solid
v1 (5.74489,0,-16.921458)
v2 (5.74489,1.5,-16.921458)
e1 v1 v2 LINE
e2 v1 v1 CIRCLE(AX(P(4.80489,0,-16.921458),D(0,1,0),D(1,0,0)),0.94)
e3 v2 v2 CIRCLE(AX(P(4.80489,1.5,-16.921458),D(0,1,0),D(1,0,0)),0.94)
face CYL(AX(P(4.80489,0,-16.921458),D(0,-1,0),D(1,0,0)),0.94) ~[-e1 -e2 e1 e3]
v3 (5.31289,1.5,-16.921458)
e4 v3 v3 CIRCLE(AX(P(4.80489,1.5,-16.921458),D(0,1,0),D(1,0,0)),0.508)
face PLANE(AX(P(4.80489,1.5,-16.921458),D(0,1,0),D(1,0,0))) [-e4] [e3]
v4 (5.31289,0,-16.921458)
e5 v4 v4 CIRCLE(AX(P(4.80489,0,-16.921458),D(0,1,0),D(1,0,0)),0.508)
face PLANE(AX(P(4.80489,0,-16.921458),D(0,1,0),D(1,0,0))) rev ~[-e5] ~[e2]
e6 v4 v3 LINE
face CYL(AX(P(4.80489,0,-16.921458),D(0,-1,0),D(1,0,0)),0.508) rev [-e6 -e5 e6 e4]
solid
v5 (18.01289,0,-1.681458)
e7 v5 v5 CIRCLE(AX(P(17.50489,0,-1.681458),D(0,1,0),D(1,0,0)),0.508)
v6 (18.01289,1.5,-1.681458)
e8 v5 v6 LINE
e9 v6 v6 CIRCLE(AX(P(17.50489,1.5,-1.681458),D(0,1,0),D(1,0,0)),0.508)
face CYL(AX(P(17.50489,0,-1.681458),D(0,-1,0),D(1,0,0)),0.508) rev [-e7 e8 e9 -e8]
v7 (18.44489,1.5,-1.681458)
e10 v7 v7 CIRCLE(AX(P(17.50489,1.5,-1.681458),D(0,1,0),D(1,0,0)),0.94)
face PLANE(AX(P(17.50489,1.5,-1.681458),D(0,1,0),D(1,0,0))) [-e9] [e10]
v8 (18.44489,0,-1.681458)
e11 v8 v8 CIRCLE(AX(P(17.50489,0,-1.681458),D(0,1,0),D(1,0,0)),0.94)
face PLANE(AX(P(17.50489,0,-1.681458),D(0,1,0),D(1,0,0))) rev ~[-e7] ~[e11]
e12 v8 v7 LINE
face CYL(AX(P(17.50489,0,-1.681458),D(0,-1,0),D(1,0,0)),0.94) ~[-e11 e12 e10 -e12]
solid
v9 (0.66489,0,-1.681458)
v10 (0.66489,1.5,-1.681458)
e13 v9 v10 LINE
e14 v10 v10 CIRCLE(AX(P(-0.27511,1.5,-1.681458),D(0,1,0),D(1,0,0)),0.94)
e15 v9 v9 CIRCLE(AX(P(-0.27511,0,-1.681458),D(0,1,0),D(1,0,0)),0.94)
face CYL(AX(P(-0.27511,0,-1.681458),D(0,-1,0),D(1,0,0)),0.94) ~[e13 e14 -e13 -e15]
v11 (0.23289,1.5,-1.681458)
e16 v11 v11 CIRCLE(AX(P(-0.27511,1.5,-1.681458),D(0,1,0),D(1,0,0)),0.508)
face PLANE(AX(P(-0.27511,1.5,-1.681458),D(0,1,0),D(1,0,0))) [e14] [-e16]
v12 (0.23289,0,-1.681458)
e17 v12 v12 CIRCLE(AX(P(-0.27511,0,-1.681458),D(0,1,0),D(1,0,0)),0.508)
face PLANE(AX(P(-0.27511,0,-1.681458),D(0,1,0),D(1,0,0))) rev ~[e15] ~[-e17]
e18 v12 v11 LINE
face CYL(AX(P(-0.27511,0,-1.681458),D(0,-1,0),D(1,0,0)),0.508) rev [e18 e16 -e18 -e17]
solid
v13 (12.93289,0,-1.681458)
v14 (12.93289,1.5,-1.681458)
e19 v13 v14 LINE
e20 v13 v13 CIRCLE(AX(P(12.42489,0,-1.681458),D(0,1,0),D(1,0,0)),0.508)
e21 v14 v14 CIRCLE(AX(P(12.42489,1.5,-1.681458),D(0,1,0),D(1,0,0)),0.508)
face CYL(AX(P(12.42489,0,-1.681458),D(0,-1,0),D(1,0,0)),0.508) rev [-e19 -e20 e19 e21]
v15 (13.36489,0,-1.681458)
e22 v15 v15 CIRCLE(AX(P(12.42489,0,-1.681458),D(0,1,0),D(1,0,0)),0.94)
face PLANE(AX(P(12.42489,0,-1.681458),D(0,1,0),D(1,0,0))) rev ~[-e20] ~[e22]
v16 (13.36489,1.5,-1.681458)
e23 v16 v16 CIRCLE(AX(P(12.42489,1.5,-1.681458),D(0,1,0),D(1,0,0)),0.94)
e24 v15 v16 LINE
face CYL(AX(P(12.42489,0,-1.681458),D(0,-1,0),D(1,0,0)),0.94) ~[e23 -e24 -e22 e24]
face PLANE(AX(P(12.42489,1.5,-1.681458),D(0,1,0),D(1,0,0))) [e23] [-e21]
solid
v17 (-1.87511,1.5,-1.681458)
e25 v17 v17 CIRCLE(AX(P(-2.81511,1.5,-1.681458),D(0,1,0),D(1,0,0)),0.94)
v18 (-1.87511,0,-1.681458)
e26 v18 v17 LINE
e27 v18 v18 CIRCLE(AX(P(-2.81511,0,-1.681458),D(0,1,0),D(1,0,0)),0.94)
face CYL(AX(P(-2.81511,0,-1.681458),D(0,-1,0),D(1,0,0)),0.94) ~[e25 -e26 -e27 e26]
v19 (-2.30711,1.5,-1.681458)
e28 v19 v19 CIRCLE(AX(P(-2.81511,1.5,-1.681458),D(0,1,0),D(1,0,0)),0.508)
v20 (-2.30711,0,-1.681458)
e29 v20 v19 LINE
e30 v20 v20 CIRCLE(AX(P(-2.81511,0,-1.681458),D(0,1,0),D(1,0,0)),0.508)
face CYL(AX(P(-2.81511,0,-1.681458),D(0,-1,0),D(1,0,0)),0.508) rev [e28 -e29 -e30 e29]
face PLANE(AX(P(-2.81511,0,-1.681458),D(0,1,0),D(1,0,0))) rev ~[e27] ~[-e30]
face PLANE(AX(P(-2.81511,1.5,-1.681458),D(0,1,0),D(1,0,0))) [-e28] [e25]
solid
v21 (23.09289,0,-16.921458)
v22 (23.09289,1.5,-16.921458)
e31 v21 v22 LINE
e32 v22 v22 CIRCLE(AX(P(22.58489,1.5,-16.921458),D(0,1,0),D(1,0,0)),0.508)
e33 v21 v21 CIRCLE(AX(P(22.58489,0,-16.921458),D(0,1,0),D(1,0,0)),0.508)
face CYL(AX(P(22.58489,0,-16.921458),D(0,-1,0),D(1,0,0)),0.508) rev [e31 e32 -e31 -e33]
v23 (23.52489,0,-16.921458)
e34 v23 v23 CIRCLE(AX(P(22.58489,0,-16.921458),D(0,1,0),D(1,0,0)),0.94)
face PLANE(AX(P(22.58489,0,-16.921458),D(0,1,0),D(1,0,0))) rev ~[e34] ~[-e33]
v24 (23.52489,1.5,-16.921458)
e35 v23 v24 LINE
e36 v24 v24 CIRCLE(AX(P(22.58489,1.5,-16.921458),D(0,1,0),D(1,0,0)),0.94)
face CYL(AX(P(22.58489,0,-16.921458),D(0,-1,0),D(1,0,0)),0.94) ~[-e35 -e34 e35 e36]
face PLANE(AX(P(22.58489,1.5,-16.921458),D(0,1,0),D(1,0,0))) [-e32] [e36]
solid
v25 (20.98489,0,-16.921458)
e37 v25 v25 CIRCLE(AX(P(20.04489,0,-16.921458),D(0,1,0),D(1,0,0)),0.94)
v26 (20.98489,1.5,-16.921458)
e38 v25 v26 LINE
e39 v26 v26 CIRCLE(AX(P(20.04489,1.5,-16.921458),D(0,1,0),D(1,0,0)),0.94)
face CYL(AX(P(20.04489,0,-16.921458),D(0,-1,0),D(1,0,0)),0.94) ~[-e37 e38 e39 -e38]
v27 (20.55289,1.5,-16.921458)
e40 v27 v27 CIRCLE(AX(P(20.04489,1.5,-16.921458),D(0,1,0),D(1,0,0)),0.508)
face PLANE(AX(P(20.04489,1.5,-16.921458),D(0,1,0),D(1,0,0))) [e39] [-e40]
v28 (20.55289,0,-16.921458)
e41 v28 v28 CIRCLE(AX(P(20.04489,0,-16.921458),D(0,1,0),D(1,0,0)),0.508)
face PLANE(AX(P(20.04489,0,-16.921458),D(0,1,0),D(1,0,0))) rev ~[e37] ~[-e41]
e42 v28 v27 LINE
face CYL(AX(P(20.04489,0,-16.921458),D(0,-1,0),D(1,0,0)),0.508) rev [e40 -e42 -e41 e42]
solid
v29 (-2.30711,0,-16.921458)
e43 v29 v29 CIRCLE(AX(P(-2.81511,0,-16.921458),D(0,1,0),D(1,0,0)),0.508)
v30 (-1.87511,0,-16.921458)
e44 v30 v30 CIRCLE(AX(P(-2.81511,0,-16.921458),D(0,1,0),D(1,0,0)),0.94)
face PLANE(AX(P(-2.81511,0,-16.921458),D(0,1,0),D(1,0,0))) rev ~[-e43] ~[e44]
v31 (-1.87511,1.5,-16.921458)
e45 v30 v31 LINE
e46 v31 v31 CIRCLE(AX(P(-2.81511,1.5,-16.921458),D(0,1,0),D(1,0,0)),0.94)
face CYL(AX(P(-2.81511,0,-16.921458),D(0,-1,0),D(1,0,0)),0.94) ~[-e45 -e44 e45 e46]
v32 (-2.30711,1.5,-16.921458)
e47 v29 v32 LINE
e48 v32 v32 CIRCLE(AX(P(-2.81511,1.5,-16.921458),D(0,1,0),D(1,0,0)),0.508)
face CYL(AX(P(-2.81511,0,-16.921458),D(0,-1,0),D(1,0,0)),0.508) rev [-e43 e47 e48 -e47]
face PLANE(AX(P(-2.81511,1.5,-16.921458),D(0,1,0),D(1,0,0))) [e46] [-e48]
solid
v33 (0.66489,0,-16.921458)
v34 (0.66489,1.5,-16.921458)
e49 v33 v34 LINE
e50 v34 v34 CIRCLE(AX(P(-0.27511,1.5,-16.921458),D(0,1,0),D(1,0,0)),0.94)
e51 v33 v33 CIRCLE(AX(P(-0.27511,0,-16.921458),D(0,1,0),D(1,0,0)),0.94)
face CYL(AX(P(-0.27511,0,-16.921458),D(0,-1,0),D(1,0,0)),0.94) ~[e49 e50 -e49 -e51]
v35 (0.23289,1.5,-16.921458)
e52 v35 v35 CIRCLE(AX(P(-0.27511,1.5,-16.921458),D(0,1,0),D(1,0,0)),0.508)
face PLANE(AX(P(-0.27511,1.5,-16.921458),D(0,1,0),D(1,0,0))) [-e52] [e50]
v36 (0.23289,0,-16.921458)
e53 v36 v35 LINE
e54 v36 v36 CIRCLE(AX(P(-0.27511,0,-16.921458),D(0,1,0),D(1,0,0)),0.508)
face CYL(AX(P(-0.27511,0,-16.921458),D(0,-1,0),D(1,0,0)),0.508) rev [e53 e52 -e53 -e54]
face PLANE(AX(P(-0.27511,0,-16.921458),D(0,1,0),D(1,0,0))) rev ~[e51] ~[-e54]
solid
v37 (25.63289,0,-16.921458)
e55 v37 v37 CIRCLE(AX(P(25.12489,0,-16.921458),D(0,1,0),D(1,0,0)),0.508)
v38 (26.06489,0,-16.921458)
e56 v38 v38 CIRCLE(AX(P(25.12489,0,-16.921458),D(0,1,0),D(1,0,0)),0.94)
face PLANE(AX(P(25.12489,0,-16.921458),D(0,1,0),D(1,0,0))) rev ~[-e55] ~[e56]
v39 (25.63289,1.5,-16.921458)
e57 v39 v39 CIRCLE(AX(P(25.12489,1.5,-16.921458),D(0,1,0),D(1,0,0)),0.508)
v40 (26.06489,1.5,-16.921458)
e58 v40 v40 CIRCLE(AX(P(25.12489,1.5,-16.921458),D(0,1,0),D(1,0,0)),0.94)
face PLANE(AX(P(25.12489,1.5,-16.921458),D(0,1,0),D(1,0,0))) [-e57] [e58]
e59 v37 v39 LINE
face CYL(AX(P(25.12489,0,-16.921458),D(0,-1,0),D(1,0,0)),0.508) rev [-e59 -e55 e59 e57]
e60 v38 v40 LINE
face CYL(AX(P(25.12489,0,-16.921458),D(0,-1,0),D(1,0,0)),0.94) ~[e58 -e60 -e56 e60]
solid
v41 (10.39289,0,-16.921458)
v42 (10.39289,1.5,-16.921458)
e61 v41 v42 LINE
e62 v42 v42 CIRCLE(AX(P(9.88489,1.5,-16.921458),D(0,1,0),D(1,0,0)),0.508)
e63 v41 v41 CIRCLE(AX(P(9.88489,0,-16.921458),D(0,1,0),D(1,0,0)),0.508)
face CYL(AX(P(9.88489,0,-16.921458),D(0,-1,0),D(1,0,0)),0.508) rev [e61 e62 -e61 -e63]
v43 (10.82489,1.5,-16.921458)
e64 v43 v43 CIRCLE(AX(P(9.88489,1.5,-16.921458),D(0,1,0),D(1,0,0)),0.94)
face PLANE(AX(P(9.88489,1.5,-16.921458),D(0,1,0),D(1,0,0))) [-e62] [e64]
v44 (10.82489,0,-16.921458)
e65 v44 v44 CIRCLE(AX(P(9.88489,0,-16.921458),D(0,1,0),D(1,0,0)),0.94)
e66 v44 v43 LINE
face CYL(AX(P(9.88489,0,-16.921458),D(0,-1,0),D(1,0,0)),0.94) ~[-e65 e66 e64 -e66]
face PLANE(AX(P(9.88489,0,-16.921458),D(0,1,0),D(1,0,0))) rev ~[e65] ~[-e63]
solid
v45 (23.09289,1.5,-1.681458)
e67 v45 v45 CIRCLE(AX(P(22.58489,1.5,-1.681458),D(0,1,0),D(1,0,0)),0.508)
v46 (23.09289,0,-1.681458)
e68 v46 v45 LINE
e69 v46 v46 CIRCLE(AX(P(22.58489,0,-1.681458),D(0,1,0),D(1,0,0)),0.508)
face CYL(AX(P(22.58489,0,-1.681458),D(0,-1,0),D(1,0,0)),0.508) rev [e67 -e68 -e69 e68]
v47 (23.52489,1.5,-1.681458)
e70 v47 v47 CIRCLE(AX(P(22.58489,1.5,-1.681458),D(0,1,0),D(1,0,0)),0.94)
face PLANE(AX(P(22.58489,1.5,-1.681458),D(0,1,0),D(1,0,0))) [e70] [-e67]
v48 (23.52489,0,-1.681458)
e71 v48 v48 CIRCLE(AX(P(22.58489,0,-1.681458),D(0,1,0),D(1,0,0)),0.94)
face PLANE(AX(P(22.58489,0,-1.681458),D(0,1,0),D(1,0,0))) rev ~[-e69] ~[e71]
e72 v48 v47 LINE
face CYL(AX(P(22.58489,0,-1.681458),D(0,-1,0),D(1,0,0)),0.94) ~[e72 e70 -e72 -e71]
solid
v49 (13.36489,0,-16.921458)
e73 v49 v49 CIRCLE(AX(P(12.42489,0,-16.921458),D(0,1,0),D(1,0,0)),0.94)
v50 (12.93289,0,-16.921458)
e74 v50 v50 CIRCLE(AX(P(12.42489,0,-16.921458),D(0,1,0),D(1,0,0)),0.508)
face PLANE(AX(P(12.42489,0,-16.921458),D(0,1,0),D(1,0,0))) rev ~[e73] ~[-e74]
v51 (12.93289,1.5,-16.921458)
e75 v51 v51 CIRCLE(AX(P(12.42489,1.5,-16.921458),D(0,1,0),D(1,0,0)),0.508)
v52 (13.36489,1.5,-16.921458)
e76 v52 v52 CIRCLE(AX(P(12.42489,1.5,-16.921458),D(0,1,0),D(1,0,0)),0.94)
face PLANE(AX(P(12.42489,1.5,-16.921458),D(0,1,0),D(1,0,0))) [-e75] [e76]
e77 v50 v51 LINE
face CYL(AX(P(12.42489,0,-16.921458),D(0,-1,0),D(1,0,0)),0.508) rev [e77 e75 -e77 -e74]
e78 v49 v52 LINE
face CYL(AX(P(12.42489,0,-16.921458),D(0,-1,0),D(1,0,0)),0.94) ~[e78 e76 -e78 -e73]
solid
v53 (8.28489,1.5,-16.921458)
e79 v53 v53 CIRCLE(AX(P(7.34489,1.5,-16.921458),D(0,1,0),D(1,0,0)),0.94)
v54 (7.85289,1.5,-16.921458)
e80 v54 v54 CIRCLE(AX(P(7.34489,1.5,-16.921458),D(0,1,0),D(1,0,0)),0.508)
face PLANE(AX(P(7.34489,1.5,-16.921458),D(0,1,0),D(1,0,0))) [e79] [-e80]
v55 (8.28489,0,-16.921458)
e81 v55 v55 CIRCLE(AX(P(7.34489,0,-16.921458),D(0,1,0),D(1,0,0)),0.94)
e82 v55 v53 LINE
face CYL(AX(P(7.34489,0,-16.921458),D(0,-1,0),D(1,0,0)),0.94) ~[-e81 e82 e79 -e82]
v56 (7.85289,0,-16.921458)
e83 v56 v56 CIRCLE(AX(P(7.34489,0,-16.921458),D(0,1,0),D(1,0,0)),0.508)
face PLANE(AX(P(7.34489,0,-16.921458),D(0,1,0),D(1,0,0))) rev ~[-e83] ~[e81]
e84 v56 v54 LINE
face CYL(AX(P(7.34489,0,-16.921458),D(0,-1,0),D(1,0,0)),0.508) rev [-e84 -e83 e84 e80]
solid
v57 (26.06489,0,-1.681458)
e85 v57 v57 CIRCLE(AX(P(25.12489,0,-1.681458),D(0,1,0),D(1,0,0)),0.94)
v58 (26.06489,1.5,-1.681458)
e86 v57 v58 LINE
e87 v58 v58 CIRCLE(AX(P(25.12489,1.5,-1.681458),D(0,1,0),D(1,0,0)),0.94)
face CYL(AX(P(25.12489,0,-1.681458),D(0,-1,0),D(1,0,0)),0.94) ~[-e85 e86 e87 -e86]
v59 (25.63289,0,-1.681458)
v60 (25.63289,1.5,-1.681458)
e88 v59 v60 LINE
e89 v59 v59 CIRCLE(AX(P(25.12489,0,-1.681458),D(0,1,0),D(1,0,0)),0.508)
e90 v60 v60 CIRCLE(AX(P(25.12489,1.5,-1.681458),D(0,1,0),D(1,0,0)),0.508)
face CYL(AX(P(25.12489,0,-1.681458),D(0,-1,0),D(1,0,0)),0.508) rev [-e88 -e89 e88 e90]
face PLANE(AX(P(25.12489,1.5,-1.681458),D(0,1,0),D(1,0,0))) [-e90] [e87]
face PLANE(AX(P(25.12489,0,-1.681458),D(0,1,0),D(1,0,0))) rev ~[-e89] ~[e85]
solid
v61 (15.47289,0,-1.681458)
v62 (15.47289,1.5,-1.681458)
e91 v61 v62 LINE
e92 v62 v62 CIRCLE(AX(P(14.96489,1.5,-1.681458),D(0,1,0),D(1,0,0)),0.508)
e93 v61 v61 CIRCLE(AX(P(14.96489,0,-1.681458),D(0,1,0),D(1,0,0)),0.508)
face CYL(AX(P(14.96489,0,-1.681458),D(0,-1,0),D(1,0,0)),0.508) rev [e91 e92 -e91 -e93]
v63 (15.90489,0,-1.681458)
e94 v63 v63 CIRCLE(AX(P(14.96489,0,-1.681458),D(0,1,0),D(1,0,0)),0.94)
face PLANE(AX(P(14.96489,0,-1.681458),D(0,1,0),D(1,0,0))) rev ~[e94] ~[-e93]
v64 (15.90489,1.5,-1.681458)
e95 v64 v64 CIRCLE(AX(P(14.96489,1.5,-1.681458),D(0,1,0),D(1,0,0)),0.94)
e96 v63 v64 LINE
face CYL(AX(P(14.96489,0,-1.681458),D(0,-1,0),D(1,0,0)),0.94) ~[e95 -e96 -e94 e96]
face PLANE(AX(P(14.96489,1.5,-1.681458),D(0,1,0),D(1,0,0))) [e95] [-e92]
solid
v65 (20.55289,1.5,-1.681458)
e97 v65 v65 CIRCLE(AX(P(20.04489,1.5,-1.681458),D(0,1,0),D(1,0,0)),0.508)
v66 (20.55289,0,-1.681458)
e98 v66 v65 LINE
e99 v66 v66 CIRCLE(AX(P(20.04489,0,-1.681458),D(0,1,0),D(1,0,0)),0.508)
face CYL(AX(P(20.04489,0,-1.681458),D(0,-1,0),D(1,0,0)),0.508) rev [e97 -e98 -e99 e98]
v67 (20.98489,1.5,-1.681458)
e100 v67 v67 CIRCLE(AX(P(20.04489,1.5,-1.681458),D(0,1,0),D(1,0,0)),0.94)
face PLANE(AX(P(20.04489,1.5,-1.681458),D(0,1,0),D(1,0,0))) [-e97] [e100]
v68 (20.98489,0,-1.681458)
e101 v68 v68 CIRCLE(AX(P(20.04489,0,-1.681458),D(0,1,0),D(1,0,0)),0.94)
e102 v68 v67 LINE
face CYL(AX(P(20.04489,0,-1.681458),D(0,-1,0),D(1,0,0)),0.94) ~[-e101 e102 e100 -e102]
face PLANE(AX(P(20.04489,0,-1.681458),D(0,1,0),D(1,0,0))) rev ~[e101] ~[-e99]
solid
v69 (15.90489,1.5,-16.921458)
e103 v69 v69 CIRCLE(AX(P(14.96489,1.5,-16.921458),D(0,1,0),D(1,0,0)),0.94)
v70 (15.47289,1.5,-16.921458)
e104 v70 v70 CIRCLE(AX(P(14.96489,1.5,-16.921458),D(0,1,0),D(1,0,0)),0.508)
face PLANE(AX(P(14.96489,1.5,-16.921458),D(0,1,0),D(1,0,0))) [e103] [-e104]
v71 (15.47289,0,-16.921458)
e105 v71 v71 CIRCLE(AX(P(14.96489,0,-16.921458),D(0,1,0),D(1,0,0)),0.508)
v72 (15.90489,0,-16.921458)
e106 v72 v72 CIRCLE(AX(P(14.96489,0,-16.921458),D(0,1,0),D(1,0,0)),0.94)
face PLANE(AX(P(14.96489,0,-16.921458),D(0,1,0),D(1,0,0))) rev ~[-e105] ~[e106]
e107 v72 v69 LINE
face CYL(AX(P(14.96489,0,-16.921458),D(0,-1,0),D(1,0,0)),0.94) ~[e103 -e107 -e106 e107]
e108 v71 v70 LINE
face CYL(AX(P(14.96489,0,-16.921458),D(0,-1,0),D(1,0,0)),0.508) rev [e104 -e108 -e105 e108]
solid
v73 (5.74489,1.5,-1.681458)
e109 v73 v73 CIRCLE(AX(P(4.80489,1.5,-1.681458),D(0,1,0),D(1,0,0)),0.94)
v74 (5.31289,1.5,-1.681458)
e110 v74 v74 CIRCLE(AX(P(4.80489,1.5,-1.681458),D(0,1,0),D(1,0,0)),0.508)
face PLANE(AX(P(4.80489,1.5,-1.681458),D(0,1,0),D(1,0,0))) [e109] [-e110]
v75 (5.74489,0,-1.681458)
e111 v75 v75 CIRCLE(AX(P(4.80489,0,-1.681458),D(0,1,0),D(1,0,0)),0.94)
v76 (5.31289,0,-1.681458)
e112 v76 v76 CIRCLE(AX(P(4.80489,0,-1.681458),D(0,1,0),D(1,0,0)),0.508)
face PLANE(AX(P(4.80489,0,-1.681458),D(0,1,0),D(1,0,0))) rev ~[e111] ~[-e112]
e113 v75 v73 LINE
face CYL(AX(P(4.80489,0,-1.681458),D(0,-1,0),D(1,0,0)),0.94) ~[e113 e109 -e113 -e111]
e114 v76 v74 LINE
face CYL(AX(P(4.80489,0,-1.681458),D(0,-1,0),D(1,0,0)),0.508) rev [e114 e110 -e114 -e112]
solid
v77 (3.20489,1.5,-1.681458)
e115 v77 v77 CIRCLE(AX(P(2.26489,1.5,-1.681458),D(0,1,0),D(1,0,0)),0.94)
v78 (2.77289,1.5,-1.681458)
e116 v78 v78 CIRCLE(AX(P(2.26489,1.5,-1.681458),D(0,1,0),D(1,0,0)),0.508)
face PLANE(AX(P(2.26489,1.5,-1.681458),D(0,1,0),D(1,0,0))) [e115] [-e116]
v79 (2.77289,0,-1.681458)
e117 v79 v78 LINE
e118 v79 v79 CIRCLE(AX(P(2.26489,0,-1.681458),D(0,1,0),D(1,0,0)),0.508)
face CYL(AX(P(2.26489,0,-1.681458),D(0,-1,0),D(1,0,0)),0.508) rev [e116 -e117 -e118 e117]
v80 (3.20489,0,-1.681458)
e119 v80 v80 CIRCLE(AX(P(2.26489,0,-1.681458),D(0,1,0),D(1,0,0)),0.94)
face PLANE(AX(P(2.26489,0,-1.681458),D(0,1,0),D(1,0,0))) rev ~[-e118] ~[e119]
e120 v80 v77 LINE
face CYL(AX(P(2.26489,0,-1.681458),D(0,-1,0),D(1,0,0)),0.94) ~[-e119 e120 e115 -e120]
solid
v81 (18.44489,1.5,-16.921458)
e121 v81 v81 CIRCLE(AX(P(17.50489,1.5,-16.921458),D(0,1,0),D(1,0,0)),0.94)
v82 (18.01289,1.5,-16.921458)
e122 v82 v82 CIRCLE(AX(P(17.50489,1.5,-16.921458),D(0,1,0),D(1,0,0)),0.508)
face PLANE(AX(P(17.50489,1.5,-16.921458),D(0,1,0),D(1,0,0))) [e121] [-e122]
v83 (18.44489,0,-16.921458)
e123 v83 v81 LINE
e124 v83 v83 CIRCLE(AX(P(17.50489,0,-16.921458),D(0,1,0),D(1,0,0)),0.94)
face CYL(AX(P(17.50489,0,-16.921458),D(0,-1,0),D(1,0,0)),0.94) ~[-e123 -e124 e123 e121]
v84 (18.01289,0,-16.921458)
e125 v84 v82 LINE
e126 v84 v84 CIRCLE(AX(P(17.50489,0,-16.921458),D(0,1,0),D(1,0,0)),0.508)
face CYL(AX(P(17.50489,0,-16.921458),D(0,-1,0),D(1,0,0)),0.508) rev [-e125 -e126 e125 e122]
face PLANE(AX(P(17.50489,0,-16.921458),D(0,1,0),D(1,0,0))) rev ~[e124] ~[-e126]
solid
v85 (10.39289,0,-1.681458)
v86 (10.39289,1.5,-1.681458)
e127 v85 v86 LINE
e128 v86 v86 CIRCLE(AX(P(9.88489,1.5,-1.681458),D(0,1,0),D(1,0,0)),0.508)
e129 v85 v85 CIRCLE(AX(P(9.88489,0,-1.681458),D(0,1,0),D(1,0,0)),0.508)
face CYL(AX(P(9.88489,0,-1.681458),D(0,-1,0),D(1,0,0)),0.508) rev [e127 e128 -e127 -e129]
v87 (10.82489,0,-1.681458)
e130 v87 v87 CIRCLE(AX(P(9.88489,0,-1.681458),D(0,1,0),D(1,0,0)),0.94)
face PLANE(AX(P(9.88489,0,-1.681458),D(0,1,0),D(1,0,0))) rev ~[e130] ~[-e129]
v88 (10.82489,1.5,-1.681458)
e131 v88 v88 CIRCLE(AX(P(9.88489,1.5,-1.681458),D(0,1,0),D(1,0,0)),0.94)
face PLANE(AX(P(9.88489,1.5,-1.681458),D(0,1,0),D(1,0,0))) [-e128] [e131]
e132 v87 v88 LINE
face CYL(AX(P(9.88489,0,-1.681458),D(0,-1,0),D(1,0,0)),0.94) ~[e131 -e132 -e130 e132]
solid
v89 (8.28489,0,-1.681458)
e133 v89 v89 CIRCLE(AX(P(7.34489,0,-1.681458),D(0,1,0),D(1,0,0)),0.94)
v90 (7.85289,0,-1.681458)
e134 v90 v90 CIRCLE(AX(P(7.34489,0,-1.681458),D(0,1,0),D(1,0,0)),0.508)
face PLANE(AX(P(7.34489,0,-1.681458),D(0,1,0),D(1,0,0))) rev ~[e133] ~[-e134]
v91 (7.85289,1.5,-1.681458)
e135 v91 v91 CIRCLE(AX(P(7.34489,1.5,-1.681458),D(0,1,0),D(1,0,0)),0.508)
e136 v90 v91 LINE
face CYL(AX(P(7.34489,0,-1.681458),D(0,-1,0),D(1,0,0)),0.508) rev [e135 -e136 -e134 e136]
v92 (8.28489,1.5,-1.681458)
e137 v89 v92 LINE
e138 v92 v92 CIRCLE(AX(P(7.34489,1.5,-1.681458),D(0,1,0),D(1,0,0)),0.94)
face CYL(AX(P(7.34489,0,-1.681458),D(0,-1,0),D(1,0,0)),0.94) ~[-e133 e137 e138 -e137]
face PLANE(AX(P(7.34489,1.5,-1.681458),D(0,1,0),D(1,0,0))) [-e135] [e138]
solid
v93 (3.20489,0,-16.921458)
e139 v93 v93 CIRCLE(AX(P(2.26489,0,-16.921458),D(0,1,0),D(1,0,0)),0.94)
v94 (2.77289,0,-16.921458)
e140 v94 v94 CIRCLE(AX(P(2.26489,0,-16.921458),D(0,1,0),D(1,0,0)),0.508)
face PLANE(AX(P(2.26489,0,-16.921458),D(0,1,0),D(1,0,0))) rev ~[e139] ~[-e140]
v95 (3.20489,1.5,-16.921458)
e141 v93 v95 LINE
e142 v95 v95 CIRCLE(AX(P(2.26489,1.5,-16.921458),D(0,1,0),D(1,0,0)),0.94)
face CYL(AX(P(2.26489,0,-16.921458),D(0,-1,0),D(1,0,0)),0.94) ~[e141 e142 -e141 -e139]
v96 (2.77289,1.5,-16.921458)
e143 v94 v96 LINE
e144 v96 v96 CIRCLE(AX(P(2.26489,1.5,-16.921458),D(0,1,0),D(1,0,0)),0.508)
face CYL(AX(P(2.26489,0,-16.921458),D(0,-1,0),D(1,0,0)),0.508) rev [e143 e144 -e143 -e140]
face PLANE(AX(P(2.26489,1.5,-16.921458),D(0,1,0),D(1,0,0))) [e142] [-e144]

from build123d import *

# Parameters (mm, degrees)
SKETCH1_R              = 0.94
SKETCH1_R_2            = 0.508
BOSS_EXTRUDE1_DEPTH    = 1.5
BOSS_EXTRUDE1_2_DEPTH  = 1.5
BOSS_EXTRUDE1_3_DEPTH  = 1.5
BOSS_EXTRUDE1_4_DEPTH  = 1.5
BOSS_EXTRUDE1_5_DEPTH  = 1.5
BOSS_EXTRUDE1_6_DEPTH  = 1.5
BOSS_EXTRUDE1_7_DEPTH  = 1.5
BOSS_EXTRUDE1_8_DEPTH  = 1.5
BOSS_EXTRUDE1_9_DEPTH  = 1.5
BOSS_EXTRUDE1_10_DEPTH = 1.5
BOSS_EXTRUDE1_11_DEPTH = 1.5
BOSS_EXTRUDE1_12_DEPTH = 1.5
BOSS_EXTRUDE1_13_DEPTH = 1.5
BOSS_EXTRUDE1_14_DEPTH = 1.5
BOSS_EXTRUDE1_15_DEPTH = 1.5
BOSS_EXTRUDE1_16_DEPTH = 1.5
BOSS_EXTRUDE1_17_DEPTH = 1.5
BOSS_EXTRUDE1_18_DEPTH = 1.5
BOSS_EXTRUDE1_19_DEPTH = 1.5
BOSS_EXTRUDE1_20_DEPTH = 1.5
BOSS_EXTRUDE1_21_DEPTH = 1.5
BOSS_EXTRUDE1_22_DEPTH = 1.5
BOSS_EXTRUDE1_23_DEPTH = 1.5
BOSS_EXTRUDE1_24_DEPTH = 1.5


with BuildPart() as part:
    # Sketch1 → Boss-Extrude1 (new body)
    with BuildSketch(Plane(origin=(0, 0, 0), x_dir=(1, 0, 0), z_dir=(0, 1, 0))):
        with Locations((-2.815110191, 1.681457709)):
            Circle(SKETCH1_R)
        with Locations((-2.815110191, 1.681457709)):
            Circle(SKETCH1_R_2, mode=Mode.SUBTRACT)
    extrude(amount=BOSS_EXTRUDE1_DEPTH)


with BuildPart() as body_2:
    # Sketch1 → Boss-Extrude1 2 (new body)
    with BuildSketch(Plane(origin=(0, 0, 0), x_dir=(1, 0, 0), z_dir=(0, 1, 0))):
        with Locations((-0.275110191, 1.681457709)):
            Circle(SKETCH1_R)
        with Locations((-0.275110191, 1.681457709)):
            Circle(SKETCH1_R_2, mode=Mode.SUBTRACT)
    extrude(amount=BOSS_EXTRUDE1_2_DEPTH)


with BuildPart() as body_3:
    # Sketch1 → Boss-Extrude1 3 (new body)
    with BuildSketch(Plane(origin=(0, 0, 0), x_dir=(1, 0, 0), z_dir=(0, 1, 0))):
        with Locations((2.264889809, 1.681457709)):
            Circle(SKETCH1_R)
        with Locations((2.264889809, 1.681457709)):
            Circle(SKETCH1_R_2, mode=Mode.SUBTRACT)
    extrude(amount=BOSS_EXTRUDE1_3_DEPTH)


with BuildPart() as body_4:
    # Sketch1 → Boss-Extrude1 4 (new body)
    with BuildSketch(Plane(origin=(0, 0, 0), x_dir=(1, 0, 0), z_dir=(0, 1, 0))):
        with Locations((4.804889809, 1.681457709)):
            Circle(SKETCH1_R)
        with Locations((4.804889809, 1.681457709)):
            Circle(SKETCH1_R_2, mode=Mode.SUBTRACT)
    extrude(amount=BOSS_EXTRUDE1_4_DEPTH)


with BuildPart() as body_5:
    # Sketch1 → Boss-Extrude1 5 (new body)
    with BuildSketch(Plane(origin=(0, 0, 0), x_dir=(1, 0, 0), z_dir=(0, 1, 0))):
        with Locations((7.344889809, 1.681457709)):
            Circle(SKETCH1_R)
        with Locations((7.344889809, 1.681457709)):
            Circle(SKETCH1_R_2, mode=Mode.SUBTRACT)
    extrude(amount=BOSS_EXTRUDE1_5_DEPTH)


with BuildPart() as body_6:
    # Sketch1 → Boss-Extrude1 6 (new body)
    with BuildSketch(Plane(origin=(0, 0, 0), x_dir=(1, 0, 0), z_dir=(0, 1, 0))):
        with Locations((9.884889809, 1.681457709)):
            Circle(SKETCH1_R)
        with Locations((9.884889809, 1.681457709)):
            Circle(SKETCH1_R_2, mode=Mode.SUBTRACT)
    extrude(amount=BOSS_EXTRUDE1_6_DEPTH)


with BuildPart() as body_7:
    # Sketch1 → Boss-Extrude1 7 (new body)
    with BuildSketch(Plane(origin=(0, 0, 0), x_dir=(1, 0, 0), z_dir=(0, 1, 0))):
        with Locations((12.424889809, 1.681457709)):
            Circle(SKETCH1_R)
        with Locations((12.424889809, 1.681457709)):
            Circle(SKETCH1_R_2, mode=Mode.SUBTRACT)
    extrude(amount=BOSS_EXTRUDE1_7_DEPTH)


with BuildPart() as body_8:
    # Sketch1 → Boss-Extrude1 8 (new body)
    with BuildSketch(Plane(origin=(0, 0, 0), x_dir=(1, 0, 0), z_dir=(0, 1, 0))):
        with Locations((14.964889809, 1.681457709)):
            Circle(SKETCH1_R)
        with Locations((14.964889809, 1.681457709)):
            Circle(SKETCH1_R_2, mode=Mode.SUBTRACT)
    extrude(amount=BOSS_EXTRUDE1_8_DEPTH)


with BuildPart() as body_9:
    # Sketch1 → Boss-Extrude1 9 (new body)
    with BuildSketch(Plane(origin=(0, 0, 0), x_dir=(1, 0, 0), z_dir=(0, 1, 0))):
        with Locations((17.504889809, 1.681457709)):
            Circle(SKETCH1_R)
        with Locations((17.504889809, 1.681457709)):
            Circle(SKETCH1_R_2, mode=Mode.SUBTRACT)
    extrude(amount=BOSS_EXTRUDE1_9_DEPTH)


with BuildPart() as body_10:
    # Sketch1 → Boss-Extrude1 10 (new body)
    with BuildSketch(Plane(origin=(0, 0, 0), x_dir=(1, 0, 0), z_dir=(0, 1, 0))):
        with Locations((20.044889809, 1.681457709)):
            Circle(SKETCH1_R)
        with Locations((20.044889809, 1.681457709)):
            Circle(SKETCH1_R_2, mode=Mode.SUBTRACT)
    extrude(amount=BOSS_EXTRUDE1_10_DEPTH)


with BuildPart() as body_11:
    # Sketch1 → Boss-Extrude1 11 (new body)
    with BuildSketch(Plane(origin=(0, 0, 0), x_dir=(1, 0, 0), z_dir=(0, 1, 0))):
        with Locations((22.584889809, 1.681457709)):
            Circle(SKETCH1_R)
        with Locations((22.584889809, 1.681457709)):
            Circle(SKETCH1_R_2, mode=Mode.SUBTRACT)
    extrude(amount=BOSS_EXTRUDE1_11_DEPTH)


with BuildPart() as body_12:
    # Sketch1 → Boss-Extrude1 12 (new body)
    with BuildSketch(Plane(origin=(0, 0, 0), x_dir=(1, 0, 0), z_dir=(0, 1, 0))):
        with Locations((25.124889809, 1.681457709)):
            Circle(SKETCH1_R)
        with Locations((25.124889809, 1.681457709)):
            Circle(SKETCH1_R_2, mode=Mode.SUBTRACT)
    extrude(amount=BOSS_EXTRUDE1_12_DEPTH)


with BuildPart() as body_13:
    # Sketch1 → Boss-Extrude1 13 (new body)
    with BuildSketch(Plane(origin=(0, 0, 0), x_dir=(1, 0, 0), z_dir=(0, 1, 0))):
        with Locations((-0.275110191, 16.921457709)):
            Circle(SKETCH1_R)
        with Locations((-0.275110191, 16.921457709)):
            Circle(SKETCH1_R_2, mode=Mode.SUBTRACT)
    extrude(amount=BOSS_EXTRUDE1_13_DEPTH)


with BuildPart() as body_14:
    # Sketch1 → Boss-Extrude1 14 (new body)
    with BuildSketch(Plane(origin=(0, 0, 0), x_dir=(1, 0, 0), z_dir=(0, 1, 0))):
        with Locations((2.264889809, 16.921457709)):
            Circle(SKETCH1_R)
        with Locations((2.264889809, 16.921457709)):
            Circle(SKETCH1_R_2, mode=Mode.SUBTRACT)
    extrude(amount=BOSS_EXTRUDE1_14_DEPTH)


with BuildPart() as body_15:
    # Sketch1 → Boss-Extrude1 15 (new body)
    with BuildSketch(Plane(origin=(0, 0, 0), x_dir=(1, 0, 0), z_dir=(0, 1, 0))):
        with Locations((4.804889809, 16.921457709)):
            Circle(SKETCH1_R)
        with Locations((4.804889809, 16.921457709)):
            Circle(SKETCH1_R_2, mode=Mode.SUBTRACT)
    extrude(amount=BOSS_EXTRUDE1_15_DEPTH)


with BuildPart() as body_16:
    # Sketch1 → Boss-Extrude1 16 (new body)
    with BuildSketch(Plane(origin=(0, 0, 0), x_dir=(1, 0, 0), z_dir=(0, 1, 0))):
        with Locations((7.344889809, 16.921457709)):
            Circle(SKETCH1_R)
        with Locations((7.344889809, 16.921457709)):
            Circle(SKETCH1_R_2, mode=Mode.SUBTRACT)
    extrude(amount=BOSS_EXTRUDE1_16_DEPTH)


with BuildPart() as body_17:
    # Sketch1 → Boss-Extrude1 17 (new body)
    with BuildSketch(Plane(origin=(0, 0, 0), x_dir=(1, 0, 0), z_dir=(0, 1, 0))):
        with Locations((9.884889809, 16.921457709)):
            Circle(SKETCH1_R)
        with Locations((9.884889809, 16.921457709)):
            Circle(SKETCH1_R_2, mode=Mode.SUBTRACT)
    extrude(amount=BOSS_EXTRUDE1_17_DEPTH)


with BuildPart() as body_18:
    # Sketch1 → Boss-Extrude1 18 (new body)
    with BuildSketch(Plane(origin=(0, 0, 0), x_dir=(1, 0, 0), z_dir=(0, 1, 0))):
        with Locations((12.424889809, 16.921457709)):
            Circle(SKETCH1_R)
        with Locations((12.424889809, 16.921457709)):
            Circle(SKETCH1_R_2, mode=Mode.SUBTRACT)
    extrude(amount=BOSS_EXTRUDE1_18_DEPTH)


with BuildPart() as body_19:
    # Sketch1 → Boss-Extrude1 19 (new body)
    with BuildSketch(Plane(origin=(0, 0, 0), x_dir=(1, 0, 0), z_dir=(0, 1, 0))):
        with Locations((14.964889809, 16.921457709)):
            Circle(SKETCH1_R)
        with Locations((14.964889809, 16.921457709)):
            Circle(SKETCH1_R_2, mode=Mode.SUBTRACT)
    extrude(amount=BOSS_EXTRUDE1_19_DEPTH)


with BuildPart() as body_20:
    # Sketch1 → Boss-Extrude1 20 (new body)
    with BuildSketch(Plane(origin=(0, 0, 0), x_dir=(1, 0, 0), z_dir=(0, 1, 0))):
        with Locations((17.504889809, 16.921457709)):
            Circle(SKETCH1_R)
        with Locations((17.504889809, 16.921457709)):
            Circle(SKETCH1_R_2, mode=Mode.SUBTRACT)
    extrude(amount=BOSS_EXTRUDE1_20_DEPTH)


with BuildPart() as body_21:
    # Sketch1 → Boss-Extrude1 21 (new body)
    with BuildSketch(Plane(origin=(0, 0, 0), x_dir=(1, 0, 0), z_dir=(0, 1, 0))):
        with Locations((20.044889809, 16.921457709)):
            Circle(SKETCH1_R)
        with Locations((20.044889809, 16.921457709)):
            Circle(SKETCH1_R_2, mode=Mode.SUBTRACT)
    extrude(amount=BOSS_EXTRUDE1_21_DEPTH)


with BuildPart() as body_22:
    # Sketch1 → Boss-Extrude1 22 (new body)
    with BuildSketch(Plane(origin=(0, 0, 0), x_dir=(1, 0, 0), z_dir=(0, 1, 0))):
        with Locations((22.584889809, 16.921457709)):
            Circle(SKETCH1_R)
        with Locations((22.584889809, 16.921457709)):
            Circle(SKETCH1_R_2, mode=Mode.SUBTRACT)
    extrude(amount=BOSS_EXTRUDE1_22_DEPTH)


with BuildPart() as body_23:
    # Sketch1 → Boss-Extrude1 23 (new body)
    with BuildSketch(Plane(origin=(0, 0, 0), x_dir=(1, 0, 0), z_dir=(0, 1, 0))):
        with Locations((25.124889809, 16.921457709)):
            Circle(SKETCH1_R)
        with Locations((25.124889809, 16.921457709)):
            Circle(SKETCH1_R_2, mode=Mode.SUBTRACT)
    extrude(amount=BOSS_EXTRUDE1_23_DEPTH)


with BuildPart() as body_24:
    # Sketch1 → Boss-Extrude1 24 (new body)
    with BuildSketch(Plane(origin=(0, 0, 0), x_dir=(1, 0, 0), z_dir=(0, 1, 0))):
        with Locations((-2.815110191, 16.921457709)):
            Circle(SKETCH1_R)
        with Locations((-2.815110191, 16.921457709)):
            Circle(SKETCH1_R_2, mode=Mode.SUBTRACT)
    extrude(amount=BOSS_EXTRUDE1_24_DEPTH)


solid = Compound([part.part, body_2.part, body_3.part, body_4.part, body_5.part, body_6.part, body_7.part, body_8.part, body_9.part, body_10.part, body_11.part, body_12.part, body_13.part, body_14.part, body_15.part, body_16.part, body_17.part, body_18.part, body_19.part, body_20.part, body_21.part, body_22.part, body_23.part, body_24.part])
